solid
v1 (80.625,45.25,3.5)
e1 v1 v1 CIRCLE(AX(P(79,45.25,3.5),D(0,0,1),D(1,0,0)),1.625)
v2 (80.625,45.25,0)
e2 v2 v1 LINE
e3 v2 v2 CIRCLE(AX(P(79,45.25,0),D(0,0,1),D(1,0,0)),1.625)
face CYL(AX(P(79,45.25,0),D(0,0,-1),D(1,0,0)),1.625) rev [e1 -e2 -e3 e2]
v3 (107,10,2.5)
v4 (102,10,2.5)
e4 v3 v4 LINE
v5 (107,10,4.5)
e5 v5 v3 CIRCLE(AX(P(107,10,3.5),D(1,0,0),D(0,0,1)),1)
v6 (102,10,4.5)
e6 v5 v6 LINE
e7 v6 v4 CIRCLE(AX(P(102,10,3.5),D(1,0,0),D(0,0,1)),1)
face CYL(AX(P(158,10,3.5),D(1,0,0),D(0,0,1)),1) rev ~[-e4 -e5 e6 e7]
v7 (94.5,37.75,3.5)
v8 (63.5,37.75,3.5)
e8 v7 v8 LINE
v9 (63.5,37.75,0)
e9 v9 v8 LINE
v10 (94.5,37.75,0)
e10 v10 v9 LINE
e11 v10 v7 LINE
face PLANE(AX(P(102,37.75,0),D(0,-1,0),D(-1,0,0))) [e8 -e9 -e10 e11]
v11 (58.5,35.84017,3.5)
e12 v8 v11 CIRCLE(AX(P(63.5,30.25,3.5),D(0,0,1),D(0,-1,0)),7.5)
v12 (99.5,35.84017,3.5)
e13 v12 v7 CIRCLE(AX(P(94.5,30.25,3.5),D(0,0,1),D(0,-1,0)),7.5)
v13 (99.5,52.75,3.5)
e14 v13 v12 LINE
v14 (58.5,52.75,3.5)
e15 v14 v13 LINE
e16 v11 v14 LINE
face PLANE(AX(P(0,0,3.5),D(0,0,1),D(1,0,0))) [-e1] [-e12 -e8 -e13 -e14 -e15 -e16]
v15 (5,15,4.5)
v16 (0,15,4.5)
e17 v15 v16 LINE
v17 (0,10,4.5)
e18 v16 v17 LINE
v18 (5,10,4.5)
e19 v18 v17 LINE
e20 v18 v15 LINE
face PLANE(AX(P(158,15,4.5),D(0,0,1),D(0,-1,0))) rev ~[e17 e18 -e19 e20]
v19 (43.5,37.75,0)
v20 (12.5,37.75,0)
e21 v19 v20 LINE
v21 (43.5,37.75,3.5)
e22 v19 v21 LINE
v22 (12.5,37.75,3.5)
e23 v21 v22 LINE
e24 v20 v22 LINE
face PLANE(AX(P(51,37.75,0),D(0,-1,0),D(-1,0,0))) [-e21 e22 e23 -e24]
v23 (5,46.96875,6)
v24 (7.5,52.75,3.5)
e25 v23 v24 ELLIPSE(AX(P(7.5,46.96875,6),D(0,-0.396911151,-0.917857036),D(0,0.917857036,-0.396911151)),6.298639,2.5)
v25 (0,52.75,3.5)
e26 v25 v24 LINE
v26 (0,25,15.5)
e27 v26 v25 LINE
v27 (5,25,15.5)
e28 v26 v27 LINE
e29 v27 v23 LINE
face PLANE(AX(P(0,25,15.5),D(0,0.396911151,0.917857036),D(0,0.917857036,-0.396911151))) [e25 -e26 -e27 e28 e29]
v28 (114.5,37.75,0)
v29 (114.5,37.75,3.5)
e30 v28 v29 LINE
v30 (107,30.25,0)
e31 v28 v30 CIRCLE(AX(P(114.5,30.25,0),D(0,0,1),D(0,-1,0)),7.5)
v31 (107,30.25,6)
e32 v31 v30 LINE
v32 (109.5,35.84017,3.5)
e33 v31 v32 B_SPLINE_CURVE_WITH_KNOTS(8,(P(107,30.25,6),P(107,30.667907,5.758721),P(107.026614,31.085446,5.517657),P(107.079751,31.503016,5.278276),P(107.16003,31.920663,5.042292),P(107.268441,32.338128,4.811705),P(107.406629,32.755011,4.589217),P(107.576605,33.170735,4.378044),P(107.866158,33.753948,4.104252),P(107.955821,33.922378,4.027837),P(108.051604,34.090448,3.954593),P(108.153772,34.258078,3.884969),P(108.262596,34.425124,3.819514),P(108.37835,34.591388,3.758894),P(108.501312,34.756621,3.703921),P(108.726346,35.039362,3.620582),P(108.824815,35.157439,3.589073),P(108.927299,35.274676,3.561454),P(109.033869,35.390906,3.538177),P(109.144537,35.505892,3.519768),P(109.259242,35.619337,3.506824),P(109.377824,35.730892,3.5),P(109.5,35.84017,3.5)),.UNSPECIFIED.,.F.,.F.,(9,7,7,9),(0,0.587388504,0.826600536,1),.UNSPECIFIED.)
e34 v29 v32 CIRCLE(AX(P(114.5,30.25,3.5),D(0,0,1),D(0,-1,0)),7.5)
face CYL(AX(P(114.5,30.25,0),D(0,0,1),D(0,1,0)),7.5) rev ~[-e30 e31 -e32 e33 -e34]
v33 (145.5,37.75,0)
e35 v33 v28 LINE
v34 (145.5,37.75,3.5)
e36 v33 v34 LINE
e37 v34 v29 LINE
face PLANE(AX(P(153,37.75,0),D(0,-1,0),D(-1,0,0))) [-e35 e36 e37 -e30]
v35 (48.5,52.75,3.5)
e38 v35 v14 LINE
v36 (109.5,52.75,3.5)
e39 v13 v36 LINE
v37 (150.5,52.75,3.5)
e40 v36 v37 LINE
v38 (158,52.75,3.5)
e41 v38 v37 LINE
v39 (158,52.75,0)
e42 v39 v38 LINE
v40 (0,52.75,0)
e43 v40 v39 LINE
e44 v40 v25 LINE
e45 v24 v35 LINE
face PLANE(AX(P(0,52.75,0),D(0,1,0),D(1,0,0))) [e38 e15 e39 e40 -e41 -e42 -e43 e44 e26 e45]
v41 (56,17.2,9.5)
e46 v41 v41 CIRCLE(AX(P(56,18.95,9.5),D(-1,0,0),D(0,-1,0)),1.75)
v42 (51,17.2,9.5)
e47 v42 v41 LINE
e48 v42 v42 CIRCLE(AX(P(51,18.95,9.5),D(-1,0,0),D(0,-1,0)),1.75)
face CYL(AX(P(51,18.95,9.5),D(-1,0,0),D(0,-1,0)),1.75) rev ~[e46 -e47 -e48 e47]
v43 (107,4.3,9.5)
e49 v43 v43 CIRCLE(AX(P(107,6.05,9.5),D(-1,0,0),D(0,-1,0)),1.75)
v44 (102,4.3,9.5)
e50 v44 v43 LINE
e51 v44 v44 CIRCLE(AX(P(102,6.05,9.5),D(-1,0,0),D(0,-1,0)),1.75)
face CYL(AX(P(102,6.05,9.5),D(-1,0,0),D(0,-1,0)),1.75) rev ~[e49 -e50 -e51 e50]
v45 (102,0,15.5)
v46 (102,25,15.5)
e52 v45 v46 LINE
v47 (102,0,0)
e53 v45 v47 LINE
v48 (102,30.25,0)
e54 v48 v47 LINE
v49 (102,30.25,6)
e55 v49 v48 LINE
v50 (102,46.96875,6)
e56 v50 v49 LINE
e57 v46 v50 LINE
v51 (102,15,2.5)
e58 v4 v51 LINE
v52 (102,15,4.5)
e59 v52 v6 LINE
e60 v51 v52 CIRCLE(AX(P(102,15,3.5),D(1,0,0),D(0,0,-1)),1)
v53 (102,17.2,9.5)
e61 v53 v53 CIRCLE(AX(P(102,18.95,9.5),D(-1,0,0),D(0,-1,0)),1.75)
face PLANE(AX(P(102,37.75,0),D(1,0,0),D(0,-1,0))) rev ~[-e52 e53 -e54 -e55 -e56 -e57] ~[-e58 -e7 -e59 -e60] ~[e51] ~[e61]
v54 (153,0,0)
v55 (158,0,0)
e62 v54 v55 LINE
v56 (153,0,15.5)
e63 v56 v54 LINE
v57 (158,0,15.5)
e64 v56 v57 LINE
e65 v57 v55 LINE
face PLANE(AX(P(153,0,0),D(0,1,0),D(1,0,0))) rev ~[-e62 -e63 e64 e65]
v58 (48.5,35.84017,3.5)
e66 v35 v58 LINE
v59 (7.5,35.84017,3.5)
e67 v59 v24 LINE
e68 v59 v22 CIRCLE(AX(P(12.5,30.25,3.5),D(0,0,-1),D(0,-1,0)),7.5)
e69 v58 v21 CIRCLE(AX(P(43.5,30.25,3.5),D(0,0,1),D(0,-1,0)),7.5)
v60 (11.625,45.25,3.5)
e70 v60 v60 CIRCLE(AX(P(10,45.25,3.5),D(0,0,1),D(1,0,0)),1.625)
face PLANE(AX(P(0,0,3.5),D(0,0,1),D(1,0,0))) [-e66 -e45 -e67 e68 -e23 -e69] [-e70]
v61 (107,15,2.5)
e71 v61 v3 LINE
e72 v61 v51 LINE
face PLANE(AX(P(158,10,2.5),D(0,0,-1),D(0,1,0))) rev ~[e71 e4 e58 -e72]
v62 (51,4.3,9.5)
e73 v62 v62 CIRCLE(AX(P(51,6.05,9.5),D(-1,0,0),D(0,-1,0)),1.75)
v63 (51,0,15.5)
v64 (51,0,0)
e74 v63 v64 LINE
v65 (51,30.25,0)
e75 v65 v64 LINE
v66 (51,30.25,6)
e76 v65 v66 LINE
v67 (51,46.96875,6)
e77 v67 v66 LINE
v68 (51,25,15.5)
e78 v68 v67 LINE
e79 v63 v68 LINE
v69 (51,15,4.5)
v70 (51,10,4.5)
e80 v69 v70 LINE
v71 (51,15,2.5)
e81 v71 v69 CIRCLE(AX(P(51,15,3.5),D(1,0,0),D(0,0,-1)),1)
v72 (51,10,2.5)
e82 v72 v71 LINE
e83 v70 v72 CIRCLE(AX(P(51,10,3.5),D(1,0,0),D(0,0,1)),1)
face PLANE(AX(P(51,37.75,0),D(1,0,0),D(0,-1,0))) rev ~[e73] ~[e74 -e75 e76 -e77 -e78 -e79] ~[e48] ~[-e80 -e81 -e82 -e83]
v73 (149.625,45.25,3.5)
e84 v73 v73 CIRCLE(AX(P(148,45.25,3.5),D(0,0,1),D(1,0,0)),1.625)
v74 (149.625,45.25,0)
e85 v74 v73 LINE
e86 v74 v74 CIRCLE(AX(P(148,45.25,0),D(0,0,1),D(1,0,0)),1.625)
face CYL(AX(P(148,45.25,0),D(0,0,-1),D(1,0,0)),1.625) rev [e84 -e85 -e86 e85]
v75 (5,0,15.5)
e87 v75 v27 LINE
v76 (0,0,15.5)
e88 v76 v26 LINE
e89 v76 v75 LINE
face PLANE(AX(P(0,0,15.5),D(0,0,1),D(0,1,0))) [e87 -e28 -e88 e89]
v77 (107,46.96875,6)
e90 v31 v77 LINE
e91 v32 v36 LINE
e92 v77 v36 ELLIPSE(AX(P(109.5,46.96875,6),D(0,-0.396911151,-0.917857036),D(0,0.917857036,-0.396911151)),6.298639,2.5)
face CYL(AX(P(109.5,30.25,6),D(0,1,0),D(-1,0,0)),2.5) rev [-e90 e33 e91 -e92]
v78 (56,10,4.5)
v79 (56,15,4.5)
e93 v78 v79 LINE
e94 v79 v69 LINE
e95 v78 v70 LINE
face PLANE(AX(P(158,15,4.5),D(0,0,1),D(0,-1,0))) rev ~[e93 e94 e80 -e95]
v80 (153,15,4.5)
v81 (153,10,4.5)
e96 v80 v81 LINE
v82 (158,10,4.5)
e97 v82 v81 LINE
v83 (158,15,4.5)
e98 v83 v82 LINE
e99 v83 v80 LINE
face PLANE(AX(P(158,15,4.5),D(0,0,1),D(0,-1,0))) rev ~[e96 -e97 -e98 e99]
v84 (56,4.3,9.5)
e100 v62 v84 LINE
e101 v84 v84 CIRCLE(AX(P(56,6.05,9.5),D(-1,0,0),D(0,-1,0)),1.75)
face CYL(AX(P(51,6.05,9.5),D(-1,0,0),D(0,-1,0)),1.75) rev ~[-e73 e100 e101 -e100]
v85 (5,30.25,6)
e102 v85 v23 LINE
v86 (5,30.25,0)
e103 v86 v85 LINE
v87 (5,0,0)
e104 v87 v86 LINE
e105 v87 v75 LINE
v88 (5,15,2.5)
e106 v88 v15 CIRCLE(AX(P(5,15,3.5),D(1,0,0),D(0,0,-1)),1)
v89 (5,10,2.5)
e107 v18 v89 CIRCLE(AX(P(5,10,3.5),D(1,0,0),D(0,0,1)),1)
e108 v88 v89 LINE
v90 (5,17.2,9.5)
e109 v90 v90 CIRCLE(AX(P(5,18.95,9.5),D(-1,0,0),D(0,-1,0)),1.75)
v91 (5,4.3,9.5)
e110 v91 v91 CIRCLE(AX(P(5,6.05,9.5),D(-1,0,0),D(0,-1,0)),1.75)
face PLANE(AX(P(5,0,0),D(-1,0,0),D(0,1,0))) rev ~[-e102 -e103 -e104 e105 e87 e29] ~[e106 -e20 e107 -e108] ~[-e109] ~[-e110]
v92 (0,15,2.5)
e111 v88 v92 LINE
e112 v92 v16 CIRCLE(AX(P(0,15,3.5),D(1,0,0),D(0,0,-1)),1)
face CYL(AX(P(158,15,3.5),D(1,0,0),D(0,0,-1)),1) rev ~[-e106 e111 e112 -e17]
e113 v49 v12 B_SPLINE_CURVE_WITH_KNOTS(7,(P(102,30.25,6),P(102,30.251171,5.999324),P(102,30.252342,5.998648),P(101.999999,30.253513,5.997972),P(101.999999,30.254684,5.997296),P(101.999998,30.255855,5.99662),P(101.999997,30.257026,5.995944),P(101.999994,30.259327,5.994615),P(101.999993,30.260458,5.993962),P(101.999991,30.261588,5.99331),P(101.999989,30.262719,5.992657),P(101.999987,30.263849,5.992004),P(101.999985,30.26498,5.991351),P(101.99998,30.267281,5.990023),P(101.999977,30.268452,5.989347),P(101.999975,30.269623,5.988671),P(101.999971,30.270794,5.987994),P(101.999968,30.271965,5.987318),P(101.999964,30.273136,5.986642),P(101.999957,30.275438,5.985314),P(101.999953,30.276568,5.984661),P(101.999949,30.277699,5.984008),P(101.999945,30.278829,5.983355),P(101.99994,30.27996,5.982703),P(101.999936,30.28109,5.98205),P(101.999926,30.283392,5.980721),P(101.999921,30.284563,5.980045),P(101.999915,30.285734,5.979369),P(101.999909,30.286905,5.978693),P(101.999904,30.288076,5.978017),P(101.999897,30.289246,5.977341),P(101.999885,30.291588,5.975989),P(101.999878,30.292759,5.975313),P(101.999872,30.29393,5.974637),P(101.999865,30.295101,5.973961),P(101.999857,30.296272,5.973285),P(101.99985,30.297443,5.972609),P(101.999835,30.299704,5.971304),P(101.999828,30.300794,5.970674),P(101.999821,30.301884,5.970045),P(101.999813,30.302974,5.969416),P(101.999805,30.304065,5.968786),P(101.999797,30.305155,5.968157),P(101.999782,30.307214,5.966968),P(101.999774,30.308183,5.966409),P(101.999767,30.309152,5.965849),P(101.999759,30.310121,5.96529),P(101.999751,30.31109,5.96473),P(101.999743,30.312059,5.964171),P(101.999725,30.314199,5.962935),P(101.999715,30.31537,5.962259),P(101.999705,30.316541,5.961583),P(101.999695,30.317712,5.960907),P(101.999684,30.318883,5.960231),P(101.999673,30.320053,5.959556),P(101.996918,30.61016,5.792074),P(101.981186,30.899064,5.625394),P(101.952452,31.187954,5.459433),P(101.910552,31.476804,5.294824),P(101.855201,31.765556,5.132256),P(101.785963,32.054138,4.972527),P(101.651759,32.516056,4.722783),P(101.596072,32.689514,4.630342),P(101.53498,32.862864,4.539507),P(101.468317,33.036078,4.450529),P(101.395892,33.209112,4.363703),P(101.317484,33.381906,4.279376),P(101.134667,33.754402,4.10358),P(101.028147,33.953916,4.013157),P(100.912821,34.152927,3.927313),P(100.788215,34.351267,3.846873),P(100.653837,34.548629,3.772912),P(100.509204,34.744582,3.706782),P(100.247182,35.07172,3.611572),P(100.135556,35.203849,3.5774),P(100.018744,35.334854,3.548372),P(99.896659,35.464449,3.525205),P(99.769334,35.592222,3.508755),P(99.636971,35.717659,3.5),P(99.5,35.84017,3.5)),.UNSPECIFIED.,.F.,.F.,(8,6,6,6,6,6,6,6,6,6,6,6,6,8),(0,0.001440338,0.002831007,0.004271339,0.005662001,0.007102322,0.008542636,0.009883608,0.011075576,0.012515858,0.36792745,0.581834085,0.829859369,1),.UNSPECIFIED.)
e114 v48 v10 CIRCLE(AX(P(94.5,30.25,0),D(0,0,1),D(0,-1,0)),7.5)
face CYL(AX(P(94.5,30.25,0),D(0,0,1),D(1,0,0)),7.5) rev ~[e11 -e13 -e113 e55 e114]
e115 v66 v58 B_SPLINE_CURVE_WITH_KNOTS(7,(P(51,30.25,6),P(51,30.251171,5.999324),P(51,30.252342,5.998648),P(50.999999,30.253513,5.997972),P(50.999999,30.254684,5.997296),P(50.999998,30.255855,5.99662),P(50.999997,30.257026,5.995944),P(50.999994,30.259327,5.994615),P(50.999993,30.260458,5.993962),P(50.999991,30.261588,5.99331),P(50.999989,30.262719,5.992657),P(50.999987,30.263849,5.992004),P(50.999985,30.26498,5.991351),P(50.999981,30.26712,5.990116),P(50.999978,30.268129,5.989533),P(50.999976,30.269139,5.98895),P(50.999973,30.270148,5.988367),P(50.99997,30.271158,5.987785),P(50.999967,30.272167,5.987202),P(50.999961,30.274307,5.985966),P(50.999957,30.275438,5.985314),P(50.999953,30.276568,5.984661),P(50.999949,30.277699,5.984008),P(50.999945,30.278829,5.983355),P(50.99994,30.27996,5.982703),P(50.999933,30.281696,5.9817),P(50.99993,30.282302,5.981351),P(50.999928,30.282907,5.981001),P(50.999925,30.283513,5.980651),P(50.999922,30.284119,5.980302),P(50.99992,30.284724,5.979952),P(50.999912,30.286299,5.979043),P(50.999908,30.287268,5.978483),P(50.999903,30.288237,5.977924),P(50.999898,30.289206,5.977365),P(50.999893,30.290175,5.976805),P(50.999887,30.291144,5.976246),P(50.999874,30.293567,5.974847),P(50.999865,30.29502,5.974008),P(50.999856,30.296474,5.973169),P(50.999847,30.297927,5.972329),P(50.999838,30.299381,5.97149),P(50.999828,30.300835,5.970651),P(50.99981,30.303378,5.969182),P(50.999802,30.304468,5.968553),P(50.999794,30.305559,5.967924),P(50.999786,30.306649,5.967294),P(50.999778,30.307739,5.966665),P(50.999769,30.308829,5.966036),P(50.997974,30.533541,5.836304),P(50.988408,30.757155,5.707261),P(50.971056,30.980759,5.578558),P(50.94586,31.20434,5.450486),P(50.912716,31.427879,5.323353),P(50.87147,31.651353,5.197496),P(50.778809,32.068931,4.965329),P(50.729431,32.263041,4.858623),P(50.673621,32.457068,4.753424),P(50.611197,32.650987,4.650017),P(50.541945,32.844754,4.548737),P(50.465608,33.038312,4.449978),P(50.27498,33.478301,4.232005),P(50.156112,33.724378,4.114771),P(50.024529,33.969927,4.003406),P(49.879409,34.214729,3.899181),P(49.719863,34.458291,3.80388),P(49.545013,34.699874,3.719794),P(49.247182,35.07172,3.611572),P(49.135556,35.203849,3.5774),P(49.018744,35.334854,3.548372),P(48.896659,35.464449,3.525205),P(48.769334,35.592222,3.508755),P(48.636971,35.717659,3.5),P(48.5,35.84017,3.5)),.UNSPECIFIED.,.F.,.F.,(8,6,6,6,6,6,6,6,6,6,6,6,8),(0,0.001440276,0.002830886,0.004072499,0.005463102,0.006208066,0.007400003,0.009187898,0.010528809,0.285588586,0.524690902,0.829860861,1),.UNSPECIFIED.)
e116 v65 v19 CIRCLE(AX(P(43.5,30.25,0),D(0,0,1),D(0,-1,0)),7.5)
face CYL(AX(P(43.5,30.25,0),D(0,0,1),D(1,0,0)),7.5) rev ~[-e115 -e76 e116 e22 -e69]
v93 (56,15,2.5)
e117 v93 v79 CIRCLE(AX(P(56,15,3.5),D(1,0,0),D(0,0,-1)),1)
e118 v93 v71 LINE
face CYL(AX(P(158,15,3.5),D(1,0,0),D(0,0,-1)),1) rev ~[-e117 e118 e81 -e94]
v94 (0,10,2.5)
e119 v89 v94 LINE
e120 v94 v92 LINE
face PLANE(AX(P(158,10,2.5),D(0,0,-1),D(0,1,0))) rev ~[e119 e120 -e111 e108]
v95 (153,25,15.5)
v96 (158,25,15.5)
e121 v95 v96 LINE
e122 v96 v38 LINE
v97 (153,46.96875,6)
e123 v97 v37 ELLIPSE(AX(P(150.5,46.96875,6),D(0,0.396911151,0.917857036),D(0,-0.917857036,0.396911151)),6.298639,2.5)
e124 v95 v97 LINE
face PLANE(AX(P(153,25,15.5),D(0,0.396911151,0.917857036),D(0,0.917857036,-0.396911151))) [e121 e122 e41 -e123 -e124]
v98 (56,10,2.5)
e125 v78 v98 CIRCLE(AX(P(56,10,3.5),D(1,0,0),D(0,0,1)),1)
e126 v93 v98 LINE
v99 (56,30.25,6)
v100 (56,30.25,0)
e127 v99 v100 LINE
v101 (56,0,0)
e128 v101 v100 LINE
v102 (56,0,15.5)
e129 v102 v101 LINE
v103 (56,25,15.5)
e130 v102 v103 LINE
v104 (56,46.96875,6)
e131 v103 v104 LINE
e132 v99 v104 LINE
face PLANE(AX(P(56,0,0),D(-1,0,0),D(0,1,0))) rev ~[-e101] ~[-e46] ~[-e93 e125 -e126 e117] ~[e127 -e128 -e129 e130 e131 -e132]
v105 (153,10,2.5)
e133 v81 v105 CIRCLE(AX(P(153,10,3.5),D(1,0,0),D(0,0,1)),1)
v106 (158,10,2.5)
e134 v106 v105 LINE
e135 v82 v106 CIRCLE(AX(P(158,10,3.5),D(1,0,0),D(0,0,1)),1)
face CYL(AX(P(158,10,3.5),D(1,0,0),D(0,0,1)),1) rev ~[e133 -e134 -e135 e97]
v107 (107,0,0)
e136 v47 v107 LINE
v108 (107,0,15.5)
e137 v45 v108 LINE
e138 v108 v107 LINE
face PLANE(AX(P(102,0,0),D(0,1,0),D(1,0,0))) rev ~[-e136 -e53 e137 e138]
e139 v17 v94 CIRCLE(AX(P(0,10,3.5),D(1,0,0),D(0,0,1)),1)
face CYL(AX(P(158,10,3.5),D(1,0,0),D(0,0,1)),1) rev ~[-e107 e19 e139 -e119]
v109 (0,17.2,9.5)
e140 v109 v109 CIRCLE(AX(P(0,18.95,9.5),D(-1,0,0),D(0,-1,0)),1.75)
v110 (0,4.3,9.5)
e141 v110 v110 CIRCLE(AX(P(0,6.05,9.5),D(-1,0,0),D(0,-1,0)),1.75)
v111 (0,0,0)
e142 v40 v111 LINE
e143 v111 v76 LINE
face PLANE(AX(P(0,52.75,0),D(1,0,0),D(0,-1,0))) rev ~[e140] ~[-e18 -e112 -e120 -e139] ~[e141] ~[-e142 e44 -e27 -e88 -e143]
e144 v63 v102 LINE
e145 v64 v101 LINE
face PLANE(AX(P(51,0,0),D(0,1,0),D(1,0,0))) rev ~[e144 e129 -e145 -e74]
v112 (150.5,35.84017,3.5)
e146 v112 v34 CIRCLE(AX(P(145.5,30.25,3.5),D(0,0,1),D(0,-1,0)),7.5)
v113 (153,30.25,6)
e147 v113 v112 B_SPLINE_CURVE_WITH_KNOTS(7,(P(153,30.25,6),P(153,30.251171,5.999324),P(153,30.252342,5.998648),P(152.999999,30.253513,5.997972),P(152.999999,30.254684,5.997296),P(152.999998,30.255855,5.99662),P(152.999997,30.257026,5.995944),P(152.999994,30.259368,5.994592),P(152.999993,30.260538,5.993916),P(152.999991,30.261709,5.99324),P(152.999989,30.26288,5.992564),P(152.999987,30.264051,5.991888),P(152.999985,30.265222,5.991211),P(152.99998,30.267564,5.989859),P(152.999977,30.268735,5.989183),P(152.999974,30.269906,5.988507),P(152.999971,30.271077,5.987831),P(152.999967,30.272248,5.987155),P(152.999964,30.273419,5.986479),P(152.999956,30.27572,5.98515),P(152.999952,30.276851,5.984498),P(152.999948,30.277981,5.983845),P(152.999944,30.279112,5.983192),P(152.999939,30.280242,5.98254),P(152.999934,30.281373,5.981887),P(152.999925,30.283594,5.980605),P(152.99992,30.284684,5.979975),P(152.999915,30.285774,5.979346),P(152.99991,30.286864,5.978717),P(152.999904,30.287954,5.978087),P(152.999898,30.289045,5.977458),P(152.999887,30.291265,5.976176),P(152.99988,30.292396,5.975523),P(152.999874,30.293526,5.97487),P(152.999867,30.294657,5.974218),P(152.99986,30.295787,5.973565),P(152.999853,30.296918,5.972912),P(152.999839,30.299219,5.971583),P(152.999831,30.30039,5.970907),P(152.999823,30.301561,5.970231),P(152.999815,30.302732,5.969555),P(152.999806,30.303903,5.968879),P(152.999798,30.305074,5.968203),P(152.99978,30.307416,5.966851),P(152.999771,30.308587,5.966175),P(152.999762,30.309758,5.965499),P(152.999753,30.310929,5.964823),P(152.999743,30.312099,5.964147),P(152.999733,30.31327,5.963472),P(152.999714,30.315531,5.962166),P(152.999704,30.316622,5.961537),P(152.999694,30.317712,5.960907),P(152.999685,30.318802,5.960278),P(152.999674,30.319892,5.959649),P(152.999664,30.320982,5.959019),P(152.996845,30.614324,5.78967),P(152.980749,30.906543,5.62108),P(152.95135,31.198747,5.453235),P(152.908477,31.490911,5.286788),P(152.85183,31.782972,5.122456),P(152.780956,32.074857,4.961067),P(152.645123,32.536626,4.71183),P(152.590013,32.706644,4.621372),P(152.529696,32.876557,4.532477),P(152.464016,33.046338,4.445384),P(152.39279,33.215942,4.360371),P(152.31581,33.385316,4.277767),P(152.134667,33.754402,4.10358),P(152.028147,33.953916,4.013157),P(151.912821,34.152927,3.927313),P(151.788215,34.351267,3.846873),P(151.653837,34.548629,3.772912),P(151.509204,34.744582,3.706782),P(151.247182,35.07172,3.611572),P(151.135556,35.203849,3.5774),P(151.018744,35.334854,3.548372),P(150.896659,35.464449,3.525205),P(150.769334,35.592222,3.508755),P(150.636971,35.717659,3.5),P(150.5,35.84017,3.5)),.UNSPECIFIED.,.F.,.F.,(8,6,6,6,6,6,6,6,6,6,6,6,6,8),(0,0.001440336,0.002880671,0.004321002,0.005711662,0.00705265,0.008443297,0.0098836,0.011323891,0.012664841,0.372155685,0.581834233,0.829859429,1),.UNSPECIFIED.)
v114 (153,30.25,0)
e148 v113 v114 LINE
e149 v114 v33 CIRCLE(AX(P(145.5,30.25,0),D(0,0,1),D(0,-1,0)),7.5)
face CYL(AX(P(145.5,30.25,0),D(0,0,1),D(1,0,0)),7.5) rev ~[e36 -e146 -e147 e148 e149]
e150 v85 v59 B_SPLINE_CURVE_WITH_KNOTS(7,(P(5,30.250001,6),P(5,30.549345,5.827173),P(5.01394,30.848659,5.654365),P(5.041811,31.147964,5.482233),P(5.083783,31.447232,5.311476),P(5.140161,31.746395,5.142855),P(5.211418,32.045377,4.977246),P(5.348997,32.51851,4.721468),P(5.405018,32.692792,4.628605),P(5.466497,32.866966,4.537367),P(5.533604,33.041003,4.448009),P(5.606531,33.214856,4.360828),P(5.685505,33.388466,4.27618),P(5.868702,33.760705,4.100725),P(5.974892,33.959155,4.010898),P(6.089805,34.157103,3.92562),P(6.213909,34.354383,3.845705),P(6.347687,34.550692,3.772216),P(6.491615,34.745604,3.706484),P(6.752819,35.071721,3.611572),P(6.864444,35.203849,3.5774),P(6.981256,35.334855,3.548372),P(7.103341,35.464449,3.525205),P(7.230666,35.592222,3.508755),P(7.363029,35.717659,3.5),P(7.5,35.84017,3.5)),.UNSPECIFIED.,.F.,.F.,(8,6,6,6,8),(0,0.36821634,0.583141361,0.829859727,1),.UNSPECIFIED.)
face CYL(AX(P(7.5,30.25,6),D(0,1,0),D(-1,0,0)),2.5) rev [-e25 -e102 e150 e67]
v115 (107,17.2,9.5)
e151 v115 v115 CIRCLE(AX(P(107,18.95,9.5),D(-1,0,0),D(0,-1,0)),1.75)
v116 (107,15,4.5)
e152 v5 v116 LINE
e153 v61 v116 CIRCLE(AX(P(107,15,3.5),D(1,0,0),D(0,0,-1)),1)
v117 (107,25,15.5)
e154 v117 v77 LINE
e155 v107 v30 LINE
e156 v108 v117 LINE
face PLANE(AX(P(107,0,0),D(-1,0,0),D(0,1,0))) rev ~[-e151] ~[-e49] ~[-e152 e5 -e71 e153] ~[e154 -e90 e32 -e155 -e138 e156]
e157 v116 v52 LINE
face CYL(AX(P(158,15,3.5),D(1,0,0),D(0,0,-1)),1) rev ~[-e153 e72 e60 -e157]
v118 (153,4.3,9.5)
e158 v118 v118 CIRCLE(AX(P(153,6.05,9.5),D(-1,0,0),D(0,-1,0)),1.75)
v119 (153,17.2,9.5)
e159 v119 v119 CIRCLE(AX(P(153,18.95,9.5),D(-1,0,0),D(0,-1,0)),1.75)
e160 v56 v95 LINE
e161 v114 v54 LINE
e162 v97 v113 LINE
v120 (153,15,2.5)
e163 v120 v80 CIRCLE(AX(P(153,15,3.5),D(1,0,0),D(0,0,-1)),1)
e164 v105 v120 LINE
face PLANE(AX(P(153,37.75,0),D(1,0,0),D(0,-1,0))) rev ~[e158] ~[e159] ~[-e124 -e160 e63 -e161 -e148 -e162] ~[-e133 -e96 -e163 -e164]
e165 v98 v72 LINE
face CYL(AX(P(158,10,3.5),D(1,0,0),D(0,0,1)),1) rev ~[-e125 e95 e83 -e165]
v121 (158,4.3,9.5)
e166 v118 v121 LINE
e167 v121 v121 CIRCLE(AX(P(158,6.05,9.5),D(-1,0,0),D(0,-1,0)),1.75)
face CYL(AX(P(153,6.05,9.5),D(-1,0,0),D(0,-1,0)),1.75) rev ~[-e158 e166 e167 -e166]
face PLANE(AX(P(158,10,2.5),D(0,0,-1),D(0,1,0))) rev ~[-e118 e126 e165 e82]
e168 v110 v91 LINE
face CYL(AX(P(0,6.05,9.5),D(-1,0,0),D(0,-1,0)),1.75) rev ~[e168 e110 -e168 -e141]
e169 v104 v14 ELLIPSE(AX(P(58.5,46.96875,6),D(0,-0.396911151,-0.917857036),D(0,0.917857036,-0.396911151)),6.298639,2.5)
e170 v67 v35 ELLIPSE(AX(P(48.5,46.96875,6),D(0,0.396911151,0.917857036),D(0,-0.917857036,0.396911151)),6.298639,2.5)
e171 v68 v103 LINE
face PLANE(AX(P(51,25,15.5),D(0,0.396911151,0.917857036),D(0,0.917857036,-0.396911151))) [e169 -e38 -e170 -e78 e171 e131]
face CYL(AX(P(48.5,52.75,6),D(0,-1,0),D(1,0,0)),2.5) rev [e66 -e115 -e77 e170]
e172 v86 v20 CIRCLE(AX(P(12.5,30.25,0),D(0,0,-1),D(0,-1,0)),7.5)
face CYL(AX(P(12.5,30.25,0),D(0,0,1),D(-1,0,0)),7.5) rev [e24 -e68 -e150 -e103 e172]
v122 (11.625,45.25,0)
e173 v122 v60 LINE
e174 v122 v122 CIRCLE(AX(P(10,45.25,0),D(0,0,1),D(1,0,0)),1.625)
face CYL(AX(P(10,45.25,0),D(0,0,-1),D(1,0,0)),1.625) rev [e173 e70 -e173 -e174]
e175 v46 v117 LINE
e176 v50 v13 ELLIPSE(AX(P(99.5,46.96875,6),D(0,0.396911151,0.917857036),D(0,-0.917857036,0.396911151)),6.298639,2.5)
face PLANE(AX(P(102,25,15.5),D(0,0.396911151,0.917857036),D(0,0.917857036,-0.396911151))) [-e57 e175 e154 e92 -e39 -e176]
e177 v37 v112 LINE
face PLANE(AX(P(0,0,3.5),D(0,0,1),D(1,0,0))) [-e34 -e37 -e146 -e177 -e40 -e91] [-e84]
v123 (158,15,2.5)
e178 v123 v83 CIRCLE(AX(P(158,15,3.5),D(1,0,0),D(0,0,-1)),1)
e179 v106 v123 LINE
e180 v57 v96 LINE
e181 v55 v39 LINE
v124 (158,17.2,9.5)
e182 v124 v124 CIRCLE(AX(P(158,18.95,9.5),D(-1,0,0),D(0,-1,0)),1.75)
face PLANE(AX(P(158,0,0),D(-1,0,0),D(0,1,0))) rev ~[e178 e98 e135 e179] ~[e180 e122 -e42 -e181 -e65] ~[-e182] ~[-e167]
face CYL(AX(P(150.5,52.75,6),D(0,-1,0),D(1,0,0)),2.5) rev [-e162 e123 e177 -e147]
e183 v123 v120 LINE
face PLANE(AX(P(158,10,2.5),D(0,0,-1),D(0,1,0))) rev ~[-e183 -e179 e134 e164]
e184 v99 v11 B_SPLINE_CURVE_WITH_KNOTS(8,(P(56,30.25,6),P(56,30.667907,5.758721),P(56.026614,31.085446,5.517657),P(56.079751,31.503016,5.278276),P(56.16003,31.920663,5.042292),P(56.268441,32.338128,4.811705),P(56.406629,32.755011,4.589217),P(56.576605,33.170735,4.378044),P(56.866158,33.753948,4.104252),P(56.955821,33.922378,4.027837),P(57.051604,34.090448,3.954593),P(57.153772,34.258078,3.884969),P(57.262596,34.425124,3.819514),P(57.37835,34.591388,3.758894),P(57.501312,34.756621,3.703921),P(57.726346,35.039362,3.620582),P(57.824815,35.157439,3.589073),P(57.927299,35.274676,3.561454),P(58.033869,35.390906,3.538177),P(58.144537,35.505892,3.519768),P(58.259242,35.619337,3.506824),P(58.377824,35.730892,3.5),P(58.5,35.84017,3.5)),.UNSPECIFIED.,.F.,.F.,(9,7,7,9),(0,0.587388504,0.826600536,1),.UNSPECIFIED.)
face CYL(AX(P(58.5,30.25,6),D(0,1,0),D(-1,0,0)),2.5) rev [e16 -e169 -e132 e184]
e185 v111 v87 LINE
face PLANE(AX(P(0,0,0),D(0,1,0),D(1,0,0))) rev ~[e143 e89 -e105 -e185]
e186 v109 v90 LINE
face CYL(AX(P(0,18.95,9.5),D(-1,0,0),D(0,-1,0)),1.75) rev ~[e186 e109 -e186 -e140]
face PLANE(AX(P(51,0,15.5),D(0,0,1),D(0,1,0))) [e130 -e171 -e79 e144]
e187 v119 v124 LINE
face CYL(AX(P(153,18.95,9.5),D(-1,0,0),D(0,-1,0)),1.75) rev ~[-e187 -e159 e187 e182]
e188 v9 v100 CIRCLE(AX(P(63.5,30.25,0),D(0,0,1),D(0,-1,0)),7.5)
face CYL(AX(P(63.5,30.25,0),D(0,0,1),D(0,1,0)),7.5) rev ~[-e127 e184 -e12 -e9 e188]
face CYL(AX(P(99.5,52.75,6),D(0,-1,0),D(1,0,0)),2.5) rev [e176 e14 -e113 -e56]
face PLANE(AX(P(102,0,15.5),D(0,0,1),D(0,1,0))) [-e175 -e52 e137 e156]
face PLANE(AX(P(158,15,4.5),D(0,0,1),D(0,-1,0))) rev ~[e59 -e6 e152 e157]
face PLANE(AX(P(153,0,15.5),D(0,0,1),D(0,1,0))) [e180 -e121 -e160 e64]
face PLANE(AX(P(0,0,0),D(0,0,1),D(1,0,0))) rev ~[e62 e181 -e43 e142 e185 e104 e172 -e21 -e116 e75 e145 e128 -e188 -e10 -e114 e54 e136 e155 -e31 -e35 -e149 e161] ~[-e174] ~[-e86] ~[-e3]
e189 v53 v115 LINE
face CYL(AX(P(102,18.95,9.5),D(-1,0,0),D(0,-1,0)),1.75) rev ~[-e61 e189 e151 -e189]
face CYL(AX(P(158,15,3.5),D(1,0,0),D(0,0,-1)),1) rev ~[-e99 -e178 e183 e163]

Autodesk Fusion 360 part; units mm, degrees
sketch "Sketch1" plane through (0, 0, 0) normal (0, 0, 1) x (1, 0, 0)
  line L0 (0, 0) -> (5, 0)
  line L1 (5, 0) -> (5, 37.75)
  line L2 (0, 52.75) -> (0, 0)
  line L3 (51, 37.75) -> (51, 0)
  line L4 (51, 0) -> (56, 0)
  line L5 (56, 0) -> (56, 37.75)
  line L6 (102, 37.75) -> (102, 0)
  line L7 (102, 0) -> (107, 0)
  line L8 (107, 0) -> (107, 37.75)
  line L9 (153, 37.75) -> (153, 0)
  line L10 (153, 0) -> (158, 0)
  line L11 (158, 0) -> (158, 52.75)
  line L12 (0, 52.75) -> (158, 52.75)
  line L13 (51, 37.75) -> (5, 37.75)
  line L14 (153, 37.75) -> (107, 37.75)
  line L15 (102, 37.75) -> (56, 37.75)
  line L16 (0, 45.25) -> (158, 45.25) construction
  circle A0 centre (10, 45.25) radius 1.625
  circle A1 centre (79, 45.25) radius 1.625
  circle A2 centre (148, 45.25) radius 1.625
  dimension "d2" = 52.75
  dimension "d10" = 7.5
  dimension "d11" = 3.25
  dimension "d12" = 10
  dimension "d13" = 10
  dimension "d25" = 15
extrude "Extrude1" add sketch "Sketch1" along normal blind 3.5 makes body 1
sketch "Sketch2" plane through (0, 0, 0) normal (-1, 0, 0) x (0, -1, 0)
  line L0 (-52.75, 0) -> (0, 0)
  line L1 (0, 0) -> (0, 3.5)
  line L2 (0, 3.5) -> (-52.75, 3.5)
  line L3 (-52.75, 3.5) -> (-52.75, 0)
  line L4 (0, 3.5) -> (0, 15.5)
  line L5 (0, 15.5) -> (-25, 15.5)
  line L6 (0, 9.5) -> (-18.95, 9.5) construction
  circle A0 centre (-6.05, 9.5) radius 1.75
  circle A1 centre (-18.95, 9.5) radius 1.75
  line L7 (-25, 15.5) -> (-52.75, 3.5)
  dimension "d16" = 25
  dimension "d19" = 9.5
  dimension "d20" = 3.5
  dimension "d23" = 6.05
  dimension "d24" = 12.9
  dimension "d26" = 15.5
extrude "Extrude2" add sketch "Sketch2" against normal blind 5 separate body contours L2 L4 L5 L7 makes body 2
pattern_linear "R-Pattern1" count 4 spacing 51 along (1, 0, 0) of bodies 2 makes body 3 at (51, 32.7908, 9.3281) makes body 4 at (102, 32.7908, 9.3281) makes body 5 at (153, 32.7908, 9.3281)
combine "Combine1" operation add target body 1 tool bodies 2 3 4 5
fillet "Fillet2" radius 7.5 6 edges at (5, 37.75, 1.75) (51, 37.75, 1.75) (56, 37.75, 1.75) (102, 37.75, 1.75) (107, 37.75, 1.75) (153, 37.75, 1.75) on bodies 1
fillet "Fillet3" radius 2.5 6 edges at (102, 41.5, 3.5) (51, 41.5, 3.5) (153, 41.5, 3.5) (5, 41.5, 3.5) (56, 41.5, 3.5) (107, 41.5, 3.5) on bodies 1
sketch "Sketch3" plane through (158, 0, 0) normal (1, 0, 0) x (0, 1, 0)
  circle A0 centre (6.05, 9.5) radius 1.75
  circle A1 centre (18.95, 9.5) radius 1.75
  line L0 (0, 0) -> (52.75, 0)
  line L1 (52.75, 0) -> (52.75, 3.5)
  line L2 (52.75, 3.5) -> (25, 15.5)
  line L3 (25, 15.5) -> (0, 15.5)
  line L4 (0, 15.5) -> (0, 0)
  line L5 (6.05, 9.5) -> (18.95, 9.5) construction
  line L6 (12.5, 9.5) -> (12.5, 3.5) construction
  line L7 (10, 2.5) -> (15, 2.5)
  arc A2 (15, 2.5) -> (15, 4.5) centre (15, 3.5) ccw
  line L8 (15, 4.5) -> (10, 4.5)
  arc A3 (10, 4.5) -> (10, 2.5) centre (10, 3.5) ccw
  line L9 (10, 3.5) -> (15, 3.5) construction
  point P0 (12.5, 3.5)
  dimension "d39" = 3.5
  dimension "d40" = 2.5
  dimension "d41" = 1
extrude "Extrude3" cut sketch "Sketch3" against normal blind 160 contours L7 A2 L8 A3 bodies 1
equation "d2 = 36.25 mm + 15 mm + 1.5 mm"
equation "d23 = 4.55 mm + 1.5 mm"
